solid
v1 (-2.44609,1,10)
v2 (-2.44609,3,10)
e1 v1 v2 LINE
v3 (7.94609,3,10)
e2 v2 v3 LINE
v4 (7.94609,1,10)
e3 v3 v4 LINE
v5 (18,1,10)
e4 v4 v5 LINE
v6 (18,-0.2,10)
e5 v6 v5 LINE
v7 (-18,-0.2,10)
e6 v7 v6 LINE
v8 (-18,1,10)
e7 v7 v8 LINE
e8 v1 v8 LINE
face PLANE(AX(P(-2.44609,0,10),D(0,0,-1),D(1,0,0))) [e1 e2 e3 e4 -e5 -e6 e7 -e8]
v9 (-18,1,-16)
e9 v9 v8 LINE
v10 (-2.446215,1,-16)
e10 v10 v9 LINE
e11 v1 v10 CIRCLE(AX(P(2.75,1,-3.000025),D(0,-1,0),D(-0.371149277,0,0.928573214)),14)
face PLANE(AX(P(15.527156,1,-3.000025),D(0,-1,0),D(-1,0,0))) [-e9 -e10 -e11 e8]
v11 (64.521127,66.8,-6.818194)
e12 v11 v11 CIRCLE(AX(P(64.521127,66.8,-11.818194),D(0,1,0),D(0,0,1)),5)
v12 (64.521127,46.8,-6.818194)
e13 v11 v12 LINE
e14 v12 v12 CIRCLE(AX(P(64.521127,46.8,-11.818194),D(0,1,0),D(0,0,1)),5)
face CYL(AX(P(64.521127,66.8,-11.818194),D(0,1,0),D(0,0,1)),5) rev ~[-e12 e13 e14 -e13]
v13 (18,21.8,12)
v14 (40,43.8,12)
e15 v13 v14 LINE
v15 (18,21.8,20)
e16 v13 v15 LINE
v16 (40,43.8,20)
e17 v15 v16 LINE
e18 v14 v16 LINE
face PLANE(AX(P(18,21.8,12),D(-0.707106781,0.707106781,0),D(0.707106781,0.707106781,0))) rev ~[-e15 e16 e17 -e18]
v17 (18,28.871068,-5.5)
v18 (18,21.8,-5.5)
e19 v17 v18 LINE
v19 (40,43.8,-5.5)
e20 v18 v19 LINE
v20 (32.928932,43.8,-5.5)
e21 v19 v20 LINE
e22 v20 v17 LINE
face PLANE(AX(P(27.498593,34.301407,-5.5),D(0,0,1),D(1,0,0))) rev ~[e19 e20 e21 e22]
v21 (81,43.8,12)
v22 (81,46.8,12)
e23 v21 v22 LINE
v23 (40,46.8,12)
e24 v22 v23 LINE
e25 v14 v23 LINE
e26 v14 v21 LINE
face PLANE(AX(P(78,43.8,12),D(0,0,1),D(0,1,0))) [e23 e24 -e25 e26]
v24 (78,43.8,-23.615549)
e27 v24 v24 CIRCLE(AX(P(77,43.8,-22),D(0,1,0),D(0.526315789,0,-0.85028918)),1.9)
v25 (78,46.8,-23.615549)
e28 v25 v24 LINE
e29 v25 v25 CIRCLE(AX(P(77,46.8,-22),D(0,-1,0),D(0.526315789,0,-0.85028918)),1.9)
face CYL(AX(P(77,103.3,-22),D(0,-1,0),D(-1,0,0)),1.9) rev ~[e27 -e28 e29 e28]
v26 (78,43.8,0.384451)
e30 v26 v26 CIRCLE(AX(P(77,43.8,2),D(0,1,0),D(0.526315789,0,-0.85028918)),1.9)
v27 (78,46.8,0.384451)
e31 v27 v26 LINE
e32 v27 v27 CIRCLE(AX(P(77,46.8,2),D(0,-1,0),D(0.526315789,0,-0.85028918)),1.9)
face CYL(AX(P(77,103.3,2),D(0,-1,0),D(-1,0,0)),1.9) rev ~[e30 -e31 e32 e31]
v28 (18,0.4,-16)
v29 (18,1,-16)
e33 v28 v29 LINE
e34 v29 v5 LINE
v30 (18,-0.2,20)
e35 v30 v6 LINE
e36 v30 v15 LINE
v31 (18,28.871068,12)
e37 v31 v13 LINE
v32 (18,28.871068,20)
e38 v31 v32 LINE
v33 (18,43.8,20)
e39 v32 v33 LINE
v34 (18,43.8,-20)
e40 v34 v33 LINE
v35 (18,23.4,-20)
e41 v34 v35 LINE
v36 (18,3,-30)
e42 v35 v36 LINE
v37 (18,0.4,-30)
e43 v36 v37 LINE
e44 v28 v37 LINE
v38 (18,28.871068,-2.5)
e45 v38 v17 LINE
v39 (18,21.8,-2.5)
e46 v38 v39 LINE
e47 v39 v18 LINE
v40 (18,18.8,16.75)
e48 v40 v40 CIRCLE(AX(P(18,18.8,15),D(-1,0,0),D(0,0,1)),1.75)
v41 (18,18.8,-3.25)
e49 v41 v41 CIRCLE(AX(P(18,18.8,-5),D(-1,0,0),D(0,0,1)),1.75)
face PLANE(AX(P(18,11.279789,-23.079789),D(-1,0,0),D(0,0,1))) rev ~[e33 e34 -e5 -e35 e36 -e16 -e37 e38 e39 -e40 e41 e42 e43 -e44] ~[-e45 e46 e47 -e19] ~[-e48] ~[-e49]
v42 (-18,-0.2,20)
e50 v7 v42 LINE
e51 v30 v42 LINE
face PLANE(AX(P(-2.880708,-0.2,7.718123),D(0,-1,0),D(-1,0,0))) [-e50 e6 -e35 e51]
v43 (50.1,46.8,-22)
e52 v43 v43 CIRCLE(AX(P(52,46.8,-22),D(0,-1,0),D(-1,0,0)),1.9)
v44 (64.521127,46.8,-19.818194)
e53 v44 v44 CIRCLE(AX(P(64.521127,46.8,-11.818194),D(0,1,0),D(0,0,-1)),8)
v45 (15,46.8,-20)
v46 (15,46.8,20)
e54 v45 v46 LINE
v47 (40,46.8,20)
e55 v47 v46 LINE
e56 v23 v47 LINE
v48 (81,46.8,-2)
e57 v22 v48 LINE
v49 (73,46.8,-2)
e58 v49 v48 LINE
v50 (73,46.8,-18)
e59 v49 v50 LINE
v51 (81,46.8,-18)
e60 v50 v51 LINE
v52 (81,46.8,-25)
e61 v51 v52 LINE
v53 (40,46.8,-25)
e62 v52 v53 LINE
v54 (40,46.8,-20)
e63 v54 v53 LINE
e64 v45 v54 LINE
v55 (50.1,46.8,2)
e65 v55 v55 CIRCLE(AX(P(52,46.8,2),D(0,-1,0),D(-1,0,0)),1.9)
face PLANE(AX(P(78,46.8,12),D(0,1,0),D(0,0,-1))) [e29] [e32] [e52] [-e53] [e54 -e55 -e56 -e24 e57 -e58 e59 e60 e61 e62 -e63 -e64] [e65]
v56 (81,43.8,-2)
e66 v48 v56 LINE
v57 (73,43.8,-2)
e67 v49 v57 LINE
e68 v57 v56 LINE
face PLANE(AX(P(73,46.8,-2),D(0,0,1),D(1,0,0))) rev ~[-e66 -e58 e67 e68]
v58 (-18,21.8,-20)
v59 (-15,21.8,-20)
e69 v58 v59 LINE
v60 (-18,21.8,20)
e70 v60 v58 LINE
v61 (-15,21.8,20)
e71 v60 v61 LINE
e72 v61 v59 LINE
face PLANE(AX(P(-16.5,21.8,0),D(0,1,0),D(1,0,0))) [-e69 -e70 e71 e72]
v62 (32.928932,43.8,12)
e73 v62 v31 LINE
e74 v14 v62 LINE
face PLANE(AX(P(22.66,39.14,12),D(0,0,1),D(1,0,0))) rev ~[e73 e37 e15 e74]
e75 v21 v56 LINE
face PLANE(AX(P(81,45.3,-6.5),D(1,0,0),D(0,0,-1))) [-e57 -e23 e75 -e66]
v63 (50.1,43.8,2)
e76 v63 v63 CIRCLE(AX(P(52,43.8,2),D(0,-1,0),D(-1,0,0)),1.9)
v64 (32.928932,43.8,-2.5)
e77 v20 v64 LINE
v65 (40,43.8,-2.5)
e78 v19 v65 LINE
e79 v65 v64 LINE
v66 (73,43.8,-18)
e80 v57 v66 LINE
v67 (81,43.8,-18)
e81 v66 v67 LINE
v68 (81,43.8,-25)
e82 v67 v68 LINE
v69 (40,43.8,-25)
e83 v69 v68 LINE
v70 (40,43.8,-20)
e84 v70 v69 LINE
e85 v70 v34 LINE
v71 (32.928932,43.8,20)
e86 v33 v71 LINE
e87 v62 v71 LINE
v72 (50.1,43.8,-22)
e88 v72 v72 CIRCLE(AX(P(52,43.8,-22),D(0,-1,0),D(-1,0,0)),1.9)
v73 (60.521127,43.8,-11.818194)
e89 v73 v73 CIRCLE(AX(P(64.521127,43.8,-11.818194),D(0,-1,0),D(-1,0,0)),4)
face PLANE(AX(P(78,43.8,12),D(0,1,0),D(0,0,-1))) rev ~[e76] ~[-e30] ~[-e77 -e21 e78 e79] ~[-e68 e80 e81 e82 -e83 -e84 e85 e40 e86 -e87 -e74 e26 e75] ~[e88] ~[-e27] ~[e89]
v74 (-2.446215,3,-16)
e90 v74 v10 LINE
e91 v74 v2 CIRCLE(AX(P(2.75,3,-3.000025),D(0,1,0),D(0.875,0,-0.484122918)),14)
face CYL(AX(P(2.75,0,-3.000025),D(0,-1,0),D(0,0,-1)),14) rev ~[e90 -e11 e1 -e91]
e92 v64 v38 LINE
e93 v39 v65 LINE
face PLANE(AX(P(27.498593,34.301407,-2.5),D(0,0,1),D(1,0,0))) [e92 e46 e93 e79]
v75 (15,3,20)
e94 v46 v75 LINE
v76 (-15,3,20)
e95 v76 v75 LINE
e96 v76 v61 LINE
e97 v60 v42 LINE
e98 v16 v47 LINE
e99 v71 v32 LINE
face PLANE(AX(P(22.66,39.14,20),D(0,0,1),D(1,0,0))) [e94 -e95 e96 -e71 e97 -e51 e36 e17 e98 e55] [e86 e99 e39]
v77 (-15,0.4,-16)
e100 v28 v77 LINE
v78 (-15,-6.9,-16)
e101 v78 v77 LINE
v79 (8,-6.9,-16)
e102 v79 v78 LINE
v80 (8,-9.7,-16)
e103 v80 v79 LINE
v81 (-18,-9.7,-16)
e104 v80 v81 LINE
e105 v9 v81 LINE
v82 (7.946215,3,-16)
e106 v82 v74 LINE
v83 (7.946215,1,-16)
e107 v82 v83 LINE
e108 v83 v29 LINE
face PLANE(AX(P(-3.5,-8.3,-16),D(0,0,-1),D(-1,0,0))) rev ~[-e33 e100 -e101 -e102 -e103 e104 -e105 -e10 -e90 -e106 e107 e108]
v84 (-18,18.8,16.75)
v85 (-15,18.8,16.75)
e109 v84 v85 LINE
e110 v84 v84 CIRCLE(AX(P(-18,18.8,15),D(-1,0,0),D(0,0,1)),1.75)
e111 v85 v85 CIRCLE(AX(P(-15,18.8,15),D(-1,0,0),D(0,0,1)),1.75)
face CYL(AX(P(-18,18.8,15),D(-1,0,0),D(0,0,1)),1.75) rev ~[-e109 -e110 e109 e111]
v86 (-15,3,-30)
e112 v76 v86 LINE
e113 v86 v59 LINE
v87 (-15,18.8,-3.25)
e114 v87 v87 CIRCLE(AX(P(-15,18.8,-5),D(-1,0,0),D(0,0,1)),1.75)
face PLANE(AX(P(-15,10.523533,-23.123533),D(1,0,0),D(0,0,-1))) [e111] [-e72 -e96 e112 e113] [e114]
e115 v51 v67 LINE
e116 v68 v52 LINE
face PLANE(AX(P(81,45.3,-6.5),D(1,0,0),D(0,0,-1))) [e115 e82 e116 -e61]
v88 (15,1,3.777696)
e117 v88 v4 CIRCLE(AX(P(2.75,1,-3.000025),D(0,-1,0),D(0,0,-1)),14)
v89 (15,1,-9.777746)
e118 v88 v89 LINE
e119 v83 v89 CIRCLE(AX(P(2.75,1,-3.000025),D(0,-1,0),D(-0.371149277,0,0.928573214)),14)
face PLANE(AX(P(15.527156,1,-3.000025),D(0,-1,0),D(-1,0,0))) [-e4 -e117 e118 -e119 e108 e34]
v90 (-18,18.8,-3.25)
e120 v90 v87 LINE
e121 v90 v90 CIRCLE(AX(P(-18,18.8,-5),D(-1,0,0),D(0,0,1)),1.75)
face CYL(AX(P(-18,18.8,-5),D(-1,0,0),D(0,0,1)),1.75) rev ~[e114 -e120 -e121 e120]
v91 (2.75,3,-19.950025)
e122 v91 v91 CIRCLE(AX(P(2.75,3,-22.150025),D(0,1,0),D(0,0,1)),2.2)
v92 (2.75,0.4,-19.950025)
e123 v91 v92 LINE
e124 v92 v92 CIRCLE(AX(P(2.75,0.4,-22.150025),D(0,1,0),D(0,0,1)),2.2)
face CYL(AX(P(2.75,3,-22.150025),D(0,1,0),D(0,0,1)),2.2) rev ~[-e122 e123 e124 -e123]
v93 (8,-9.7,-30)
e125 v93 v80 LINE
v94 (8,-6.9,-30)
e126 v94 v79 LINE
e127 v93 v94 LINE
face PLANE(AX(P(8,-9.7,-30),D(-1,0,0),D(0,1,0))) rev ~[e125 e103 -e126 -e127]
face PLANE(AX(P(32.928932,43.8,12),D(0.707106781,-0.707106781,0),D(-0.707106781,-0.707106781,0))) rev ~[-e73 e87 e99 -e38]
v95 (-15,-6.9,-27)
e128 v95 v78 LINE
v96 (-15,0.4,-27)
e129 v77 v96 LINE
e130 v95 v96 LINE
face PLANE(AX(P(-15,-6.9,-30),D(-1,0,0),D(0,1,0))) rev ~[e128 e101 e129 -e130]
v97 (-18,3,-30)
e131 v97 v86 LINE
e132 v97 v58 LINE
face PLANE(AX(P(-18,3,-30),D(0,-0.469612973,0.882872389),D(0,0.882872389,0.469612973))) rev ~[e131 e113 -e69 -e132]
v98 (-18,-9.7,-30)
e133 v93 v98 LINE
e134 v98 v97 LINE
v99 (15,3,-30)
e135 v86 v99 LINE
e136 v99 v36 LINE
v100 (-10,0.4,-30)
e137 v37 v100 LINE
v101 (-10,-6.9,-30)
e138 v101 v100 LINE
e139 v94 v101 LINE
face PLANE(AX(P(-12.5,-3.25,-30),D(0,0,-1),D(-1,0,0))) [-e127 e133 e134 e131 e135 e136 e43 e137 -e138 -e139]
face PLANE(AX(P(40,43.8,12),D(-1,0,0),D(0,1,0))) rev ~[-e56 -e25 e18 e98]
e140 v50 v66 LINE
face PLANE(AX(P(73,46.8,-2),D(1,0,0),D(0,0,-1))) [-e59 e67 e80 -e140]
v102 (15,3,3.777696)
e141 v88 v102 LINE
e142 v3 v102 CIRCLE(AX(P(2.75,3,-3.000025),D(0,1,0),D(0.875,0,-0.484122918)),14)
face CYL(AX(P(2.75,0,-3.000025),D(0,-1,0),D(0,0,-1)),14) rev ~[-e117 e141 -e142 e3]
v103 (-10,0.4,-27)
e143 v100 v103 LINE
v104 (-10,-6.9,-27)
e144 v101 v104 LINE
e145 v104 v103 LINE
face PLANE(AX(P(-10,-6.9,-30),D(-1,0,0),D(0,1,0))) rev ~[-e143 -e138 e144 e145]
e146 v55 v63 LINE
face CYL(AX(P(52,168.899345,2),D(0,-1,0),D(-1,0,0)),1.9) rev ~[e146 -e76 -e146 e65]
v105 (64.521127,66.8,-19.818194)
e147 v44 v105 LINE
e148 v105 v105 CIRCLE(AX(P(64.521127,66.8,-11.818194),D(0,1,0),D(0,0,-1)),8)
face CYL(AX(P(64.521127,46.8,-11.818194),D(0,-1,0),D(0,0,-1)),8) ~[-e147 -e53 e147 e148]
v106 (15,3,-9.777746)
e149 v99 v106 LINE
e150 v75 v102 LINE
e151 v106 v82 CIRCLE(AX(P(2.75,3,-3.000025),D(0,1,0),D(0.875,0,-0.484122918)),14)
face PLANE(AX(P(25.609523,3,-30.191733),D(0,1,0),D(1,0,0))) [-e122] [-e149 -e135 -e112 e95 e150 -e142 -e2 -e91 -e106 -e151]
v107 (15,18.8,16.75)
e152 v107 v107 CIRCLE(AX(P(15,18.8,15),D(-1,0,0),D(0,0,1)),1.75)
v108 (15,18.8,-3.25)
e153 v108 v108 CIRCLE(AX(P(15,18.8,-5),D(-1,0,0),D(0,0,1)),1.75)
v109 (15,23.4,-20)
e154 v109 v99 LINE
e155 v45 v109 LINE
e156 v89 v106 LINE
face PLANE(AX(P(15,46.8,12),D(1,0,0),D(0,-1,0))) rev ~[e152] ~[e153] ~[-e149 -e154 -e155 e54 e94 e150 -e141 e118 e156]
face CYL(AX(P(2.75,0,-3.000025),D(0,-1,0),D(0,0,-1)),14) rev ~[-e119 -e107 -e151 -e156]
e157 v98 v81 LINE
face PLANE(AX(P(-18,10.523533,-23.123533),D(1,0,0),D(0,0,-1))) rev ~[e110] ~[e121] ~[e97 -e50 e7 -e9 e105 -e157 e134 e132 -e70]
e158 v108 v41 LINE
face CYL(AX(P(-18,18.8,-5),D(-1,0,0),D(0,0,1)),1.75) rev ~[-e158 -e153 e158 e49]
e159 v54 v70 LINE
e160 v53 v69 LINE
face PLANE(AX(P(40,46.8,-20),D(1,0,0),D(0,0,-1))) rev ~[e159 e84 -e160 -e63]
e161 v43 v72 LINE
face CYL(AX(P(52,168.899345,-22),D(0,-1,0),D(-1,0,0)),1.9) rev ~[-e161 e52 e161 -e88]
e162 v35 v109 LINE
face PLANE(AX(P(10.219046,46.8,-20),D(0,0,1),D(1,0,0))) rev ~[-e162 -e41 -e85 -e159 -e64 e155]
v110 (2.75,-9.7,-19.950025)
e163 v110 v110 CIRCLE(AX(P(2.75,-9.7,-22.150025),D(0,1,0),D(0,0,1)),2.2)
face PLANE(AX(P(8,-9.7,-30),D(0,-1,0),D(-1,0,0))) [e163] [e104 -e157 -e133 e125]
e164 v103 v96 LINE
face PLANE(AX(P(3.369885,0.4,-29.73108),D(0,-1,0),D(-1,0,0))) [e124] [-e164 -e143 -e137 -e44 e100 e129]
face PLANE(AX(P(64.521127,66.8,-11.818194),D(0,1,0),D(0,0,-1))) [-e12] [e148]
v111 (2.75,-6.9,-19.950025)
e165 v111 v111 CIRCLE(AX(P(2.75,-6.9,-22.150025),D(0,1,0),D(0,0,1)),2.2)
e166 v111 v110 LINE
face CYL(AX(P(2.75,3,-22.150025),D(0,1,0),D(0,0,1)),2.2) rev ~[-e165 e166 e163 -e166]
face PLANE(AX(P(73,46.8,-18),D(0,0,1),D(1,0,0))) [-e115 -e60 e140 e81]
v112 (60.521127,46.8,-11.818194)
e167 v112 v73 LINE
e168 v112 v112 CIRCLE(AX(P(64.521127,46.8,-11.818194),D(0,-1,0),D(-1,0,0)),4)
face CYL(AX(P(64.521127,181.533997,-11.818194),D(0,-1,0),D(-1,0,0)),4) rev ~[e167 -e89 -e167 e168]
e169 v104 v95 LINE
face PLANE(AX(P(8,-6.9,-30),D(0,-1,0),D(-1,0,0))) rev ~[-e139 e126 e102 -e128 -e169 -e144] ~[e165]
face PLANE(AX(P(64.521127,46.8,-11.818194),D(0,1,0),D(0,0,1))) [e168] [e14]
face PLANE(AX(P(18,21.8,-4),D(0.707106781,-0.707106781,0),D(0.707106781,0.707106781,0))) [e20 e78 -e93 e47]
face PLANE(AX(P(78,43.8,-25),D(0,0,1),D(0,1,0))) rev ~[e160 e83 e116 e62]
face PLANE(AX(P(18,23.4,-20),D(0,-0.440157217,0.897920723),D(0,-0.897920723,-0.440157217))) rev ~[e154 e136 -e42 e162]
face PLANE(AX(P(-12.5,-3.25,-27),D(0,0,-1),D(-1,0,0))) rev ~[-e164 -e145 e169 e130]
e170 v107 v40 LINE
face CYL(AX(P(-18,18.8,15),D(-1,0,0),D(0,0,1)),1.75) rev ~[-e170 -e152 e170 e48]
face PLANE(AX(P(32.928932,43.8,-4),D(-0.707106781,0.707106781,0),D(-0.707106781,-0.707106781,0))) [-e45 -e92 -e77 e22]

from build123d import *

# Parameters (mm, degrees)
SKETCH_1_W            = 36
SKETCH_1_H            = 40
EXTRUDE_1_DEPTH       = 3
SKETCH_2_W            = 3
SKETCH_2_H            = 40
EXTRUDE_2_DEPTH       = 18.8
SKETCH_3_R            = 14
CUT_EXTRUDE_1_DEPTH   = 9
SKETCH_4_W            = 36
SKETCH_4_H            = 3
EXTRUDE_3_DEPTH       = 10
SKETCH_6_R            = 2.7
CUT_EXTRUDE_3_DEPTH   = 10
SKETCH_7_R            = 1.75
CUT_EXTRUDE_4_DEPTH   = 52.68404009
SKETCH_9_W            = 25
SKETCH_9_H            = 3
SKETCH_9_W_2          = 3
SKETCH_9_H_2          = 9.3
EXTRUDE_4_DEPTH       = 20
CHAMFER_1_SIZE        = 5
CUT_EXTRUDE_START     = -30
SKETCH_10_R           = 2.7
CUT_EXTRUDE_5_DEPTH   = 30
SKETCH_11_W           = 40.05397725
SKETCH_11_H           = 18.071111192
CUT_EXTRUDE_6_DEPTH   = 52.68404009
EXTRUDE_START         = 2.5
SKETCH_12_W           = 36
SKETCH_12_H           = 20
SKETCH_12_R           = 2.7
EXTRUDE_5_DEPTH       = 2.5
SKETCH_13_W           = 62.12277329
SKETCH_13_H           = 35.561448302
CUT_EXTRUDE_7_DEPTH   = 1
SKETCH_16_W           = 60
SKETCH_16_H           = 3
SKETCH_16_W_2         = 3
SKETCH_16_H_2         = 25
EXTRUDE_7_DEPTH       = 65
EXTRUDE_START_2       = 8
EXTRUDE_8_DEPTH       = 8
SKETCH_19_W           = 125.229267156
SKETCH_19_H           = 103.922898786
CUT_EXTRUDE_9_DEPTH   = 0.5
SKETCH_20_W           = 154.797288569
SKETCH_20_H           = 90.443359613
CUT_EXTRUDE_10_DEPTH  = 1.8
SKETCH_21_W           = 11.155684717
SKETCH_21_H           = 2.603751016
EXTRUDE_9_DEPTH       = 3
EXTRUDE_10_DEPTH      = 10
EXTRUDE_10_DEPTH_BACK = 4
SKETCH_22_W           = 36
SKETCH_22_H           = 3.2
SKETCH_23_R           = 1.75
CUT_EXTRUDE_12_DEPTH  = 10
SKETCH_26_W           = 12.845915964
SKETCH_26_H           = 7.377373426
EXTRUDE_11_DEPTH      = 3.2
SKETCH_27_W           = 116.42408431
SKETCH_27_H           = 62.505927617
CUT_EXTRUDE_13_DEPTH  = 10
SKETCH_29_W           = 89.791123847
SKETCH_29_H           = 12.28472202
SKETCH_29_W_2         = 107.401489541
SKETCH_29_H_2         = 29.785433334
CUT_EXTRUDE_14_DEPTH  = 25
SKETCH_30_W           = 3
SKETCH_30_H           = 18.8
EXTRUDE_12_DEPTH      = 17
SKETCH_31_W           = 80.768529078
SKETCH_31_H           = 45.765209612
CUT_EXTRUDE_15_DEPTH  = 0.6
SKETCH_32_W           = 23
SKETCH_32_H           = 2.8
SKETCH_32_W_2         = 3
SKETCH_32_H_2         = 9.9
EXTRUDE_13_DEPTH      = 14
SKETCH_34_R           = 2.2
CUT_EXTRUDE_17_DEPTH  = 97.806198149
SKETCH_35_W           = 168.711651586
SKETCH_35_H           = 128.925269833
CUT_EXTRUDE_18_DEPTH  = 7
SKETCH_36_W           = 30.780953922
SKETCH_36_H           = 20.383466973
CUT_EXTRUDE_19_DEPTH  = 43.8
SKETCH_38_W           = 37
SKETCH_38_H           = 5
CUT_EXTRUDE_20_DEPTH  = 10
SKETCH_45_W           = 37
SKETCH_45_H           = 3
EXTRUDE_14_DEPTH      = 3
HOLE_WIZARD_1_D       = 3.8
SKETCH_51_W           = 37
SKETCH_51_H           = 8
CUT_EXTRUDE_21_DEPTH  = 10
EXTRUDE_15_DEPTH      = 3
EXTRUDE_16_DEPTH      = 3
EXTRUDE_17_DEPTH      = 8
EXTRUDE_18_DEPTH      = 1.5
SKETCH_58_W           = 5
SKETCH_58_H           = 7.3
EXTRUDE_19_DEPTH      = 3
SKETCH_59_W           = 38
SKETCH_59_H           = 5
EXTRUDE_20_DEPTH      = 3
HOLE_WIZARD_2_D       = 3.8
SKETCH_62_W           = 37
SKETCH_62_H           = 3
EXTRUDE_21_DEPTH      = 3
HOLE_WIZARD_3_D       = 3.8
HOLE_WIZARD_3_DEPTH   = 56.5
SKETCH_65_W           = 8
SKETCH_65_H           = 16
CUT_EXTRUDE_22_DEPTH  = 10
SKETCH_73_R           = 8
EXTRUDE_22_DEPTH      = 20
SKETCH_74_R           = 5
CUT_EXTRUDE_23_DEPTH  = 20
HOLE_WIZARD_4_D       = 8


with BuildPart() as part:
    # 草图1 → 凸台-拉伸1 (new body)
    with BuildSketch(Plane(origin=(0, 0, 0), x_dir=(1, 0, 0), z_dir=(0, 1, 0))):
        Rectangle(SKETCH_1_W, SKETCH_1_H)
    extrude(amount=EXTRUDE_1_DEPTH)

    # 草图2 → 凸台-拉伸2 (add)
    with BuildSketch(Plane(origin=(0, 3, 0), x_dir=(1, 0, 0), z_dir=(0, 1, 0))):
        with Locations((-16.5, 0)):
            Rectangle(SKETCH_2_W, SKETCH_2_H)
        with Locations((16.5, 0)):
            Rectangle(SKETCH_2_W, SKETCH_2_H)
    extrude(amount=EXTRUDE_2_DEPTH)

    # 草图3 → 切除-拉伸1 (cut)
    with BuildSketch(Plane(origin=(0, 0, 0), x_dir=(-1, 0, 0), z_dir=(0, -1, 0))):
        with Locations(Location((-2.75, 3.000025, 0), (0, 0, 90))):
            Circle(SKETCH_3_R)
    extrude(amount=-CUT_EXTRUDE_1_DEPTH, mode=Mode.SUBTRACT)

    # 草图4 → 凸台-拉伸3 (add)
    with BuildSketch(Plane.XY.offset(20)):
        with Locations((0, 1.5)):
            Rectangle(SKETCH_4_W, SKETCH_4_H)
    extrude(amount=EXTRUDE_3_DEPTH)

    # 草图6 → 切除-拉伸3 (cut)
    with BuildSketch(Plane(origin=(0, 0, 0), x_dir=(-1, 0, 0), z_dir=(0, -1, 0))):
        with Locations(Location((-2.75, -16.149975, 0), (0, 0, 90))):
            Circle(SKETCH_6_R)
    extrude(amount=-CUT_EXTRUDE_3_DEPTH, mode=Mode.SUBTRACT)

    # 草图7 → 切除-拉伸4 (cut, through all)
    with BuildSketch(Plane.ZY.offset(18)):
        with Locations((15, 18.8)):
            Circle(SKETCH_7_R)
        with Locations((-5, 18.8)):
            Circle(SKETCH_7_R)
    extrude(amount=-CUT_EXTRUDE_4_DEPTH, mode=Mode.SUBTRACT)

    # 草图9 → 凸台-拉伸4 (add)
    with BuildSketch(Plane.XY.offset(30)):
        with Locations((-2.5, -7.8)):
            Rectangle(SKETCH_9_W, SKETCH_9_H)
        with Locations((-16.5, -4.65)):
            Rectangle(SKETCH_9_W_2, SKETCH_9_H_2)
    extrude(amount=-EXTRUDE_4_DEPTH)

    # 倒角1
    chamfer_1_edges = [part.edges().sort_by_distance(p)[0] for p in [
        (10, -7.8, 30),
    ]]
    chamfer(chamfer_1_edges, length=CHAMFER_1_SIZE)

    # 草图10 → 切除-拉伸5 (cut)
    with BuildSketch(Plane(origin=(0, 0, 0), x_dir=(1, 0, 0), z_dir=(0, 1, 0)).offset(CUT_EXTRUDE_START)):
        with Locations(Location((2.75, -16.149975, 0), (0, 0, 90))):
            Circle(SKETCH_10_R)
    extrude(amount=CUT_EXTRUDE_5_DEPTH, mode=Mode.SUBTRACT)

    # 草图11 → 切除-拉伸6 (cut, through all)
    with BuildSketch(Plane.ZY.offset(18)):
        with Locations((20.026988625, -9.035555596)):
            Rectangle(SKETCH_11_W, SKETCH_11_H)
    extrude(amount=-CUT_EXTRUDE_6_DEPTH, mode=Mode.SUBTRACT)

    # 草图12 → 凸台-拉伸5 (add)
    with BuildSketch(Plane(origin=(0, 0, 0), x_dir=(-1, 0, 0), z_dir=(0, -1, 0)).offset(EXTRUDE_START)):
        with Locations((0, -20)):
            Rectangle(SKETCH_12_W, SKETCH_12_H)
        with Locations(Location((-2.75, -16.149975, 0), (0, 0, 90))):
            Circle(SKETCH_12_R, mode=Mode.SUBTRACT)
    extrude(amount=-EXTRUDE_5_DEPTH)

    # 草图13 → 切除-拉伸7 (cut)
    with BuildSketch(Plane(origin=(0, 0, 0), x_dir=(-1, 0, 0), z_dir=(0, -1, 0))):
        with Locations((0.086945799, 7.780724151)):
            Rectangle(SKETCH_13_W, SKETCH_13_H)
    extrude(amount=-CUT_EXTRUDE_7_DEPTH, mode=Mode.SUBTRACT)

    # 草图16 → 凸台-拉伸7 (add)
    with BuildSketch(Plane.XY.offset(20)):
        with Locations((48, 45.3)):
            Rectangle(SKETCH_16_W, SKETCH_16_H)
        with Locations((16.5, 34.3)):
            Rectangle(SKETCH_16_W_2, SKETCH_16_H_2)
    extrude(amount=-EXTRUDE_7_DEPTH)

    # 草图17 → 凸台-拉伸8 (add)
    with BuildSketch(Plane(origin=(0, 9, 0), x_dir=(-1, 0, 0), z_dir=(0, -1, 0)).offset(EXTRUDE_START_2)):
        with BuildLine():
            Line((-15, -3.777695856), (-15, 9.777745856))
            ThreePointArc((-15, 9.777745856), (-16.75, 3.000025), (-15, -3.777695856))
        make_face()
    extrude(amount=-EXTRUDE_8_DEPTH)

    # 草图19 → 切除-拉伸9 (cut)
    with BuildSketch(Plane(origin=(0, -2.5, 0), x_dir=(-1, 0, 0), z_dir=(0, -1, 0))):
        with Locations((5.272239112, -16.1971882)):
            Rectangle(SKETCH_19_W, SKETCH_19_H)
    extrude(amount=-CUT_EXTRUDE_9_DEPTH, mode=Mode.SUBTRACT)

    # 草图20 → 切除-拉伸10 (cut)
    with BuildSketch(Plane(origin=(0, -2, 0), x_dir=(-1, 0, 0), z_dir=(0, -1, 0))):
        with Locations((2.880707968, -7.718123237)):
            Rectangle(SKETCH_20_W, SKETCH_20_H)
    extrude(amount=-CUT_EXTRUDE_10_DEPTH, mode=Mode.SUBTRACT)

    # 草图21 → 凸台-拉伸9 (add)
    with BuildSketch(Plane(origin=(0, 0, 0), x_dir=(1, 0, 0), z_dir=(0, 1, 0))):
        with Locations((3.131752483, -11.301875508)):
            Rectangle(SKETCH_21_W, SKETCH_21_H)
    extrude(amount=EXTRUDE_9_DEPTH)

    # 草图22 → 凸台-拉伸10 (add, two sides: drawn at the far end of the back side and taken through both)
    with BuildSketch(Plane(origin=(0, 0, -20), x_dir=(-1, 0, 0), z_dir=(0, 0, -1)).offset(-EXTRUDE_10_DEPTH_BACK)):
        with Locations((0, 1.4)):
            Rectangle(SKETCH_22_W, SKETCH_22_H)
    extrude(amount=EXTRUDE_10_DEPTH + EXTRUDE_10_DEPTH_BACK)

    # 草图23 → 切除-拉伸12 (cut)
    with BuildSketch(Plane(origin=(0, 9, 0), x_dir=(-1, 0, 0), z_dir=(0, -1, 0))):
        with Locations(Location((-2.75, 22.150025, 0), (0, 0, 270))):
            Circle(SKETCH_23_R)
    extrude(amount=CUT_EXTRUDE_12_DEPTH, mode=Mode.SUBTRACT)

    # 草图26 → 凸台-拉伸11 (add, through all)
    with BuildSketch(Plane(origin=(0, 3, 0), x_dir=(1, 0, 0), z_dir=(0, 1, 0))):
        with Locations((3.420651678, -16.929062366)):
            Rectangle(SKETCH_26_W, SKETCH_26_H)
    extrude(amount=-EXTRUDE_11_DEPTH)

    # 草图27 → 切除-拉伸13 (cut)
    with BuildSketch(Plane.XY.offset(30)):
        with Locations((4.783062287, -2.648783639)):
            Rectangle(SKETCH_27_W, SKETCH_27_H)
    extrude(amount=-CUT_EXTRUDE_13_DEPTH, mode=Mode.SUBTRACT)

    # 草图29 → 切除-拉伸14 (cut)
    with BuildSketch(Plane(origin=(0, 46.8, 0), x_dir=(1, 0, 0), z_dir=(0, 1, 0))):
        with Locations((43.319325488, 43.14236101)):
            Rectangle(SKETCH_29_W, SKETCH_29_H)
        with Locations((56.472746777, -26.892716667)):
            Rectangle(SKETCH_29_W_2, SKETCH_29_H_2)
    extrude(amount=-CUT_EXTRUDE_14_DEPTH, mode=Mode.SUBTRACT)

    # 草图30 → 凸台-拉伸12 (add)
    with BuildSketch(Plane(origin=(0, 0, -20), x_dir=(-1, 0, 0), z_dir=(0, 0, -1))):
        with Locations((-16.5, 12.4)):
            Rectangle(SKETCH_30_W, SKETCH_30_H)
    extrude(amount=EXTRUDE_12_DEPTH)

    # 草图31 → 切除-拉伸15 (cut)
    with BuildSketch(Plane(origin=(0, -0.2, 0), x_dir=(-1, 0, 0), z_dir=(0, -1, 0))):
        with Locations((-3.369884793, 29.731080354)):
            Rectangle(SKETCH_31_W, SKETCH_31_H)
    extrude(amount=-CUT_EXTRUDE_15_DEPTH, mode=Mode.SUBTRACT)

    # 草图32 → 凸台-拉伸13 (add)
    with BuildSketch(Plane(origin=(0, 0, -30), x_dir=(-1, 0, 0), z_dir=(0, 0, -1))):
        with Locations((3.5, -8.3)):
            Rectangle(SKETCH_32_W, SKETCH_32_H)
        with Locations((16.5, -1.95)):
            Rectangle(SKETCH_32_W_2, SKETCH_32_H_2)
        with Locations((16.5, -8.3)):
            Rectangle(SKETCH_32_W_2, SKETCH_32_H)
    extrude(amount=-EXTRUDE_13_DEPTH)

    # 草图34 → 切除-拉伸17 (cut, through all)
    with BuildSketch(Plane(origin=(0, 3, 0), x_dir=(1, 0, 0), z_dir=(0, 1, 0))):
        with Locations(Location((2.75, 22.150025, 0), (0, 0, 270))):
            Circle(SKETCH_34_R)
    extrude(amount=-CUT_EXTRUDE_17_DEPTH, mode=Mode.SUBTRACT)

    # 草图35 → 切除-拉伸18 (cut)
    with BuildSketch(Plane(origin=(0, 0, -37), x_dir=(-1, 0, 0), z_dir=(0, 0, -1))):
        with Locations((-14.403539842, 2.608943066)):
            Rectangle(SKETCH_35_W, SKETCH_35_H)
    extrude(amount=-CUT_EXTRUDE_18_DEPTH, mode=Mode.SUBTRACT)

    # 草图36 → 切除-拉伸19 (cut)
    with BuildSketch(Plane(origin=(0, 46.8, 0), x_dir=(1, 0, 0), z_dir=(0, 1, 0))):
        with Locations((25.609523039, 30.191733487)):
            Rectangle(SKETCH_36_W, SKETCH_36_H)
    extrude(amount=-CUT_EXTRUDE_19_DEPTH, mode=Mode.SUBTRACT)

    # 草图38 → 切除-拉伸20 (cut)
    with BuildSketch(Plane(origin=(0, 46.8, 0), x_dir=(1, 0, 0), z_dir=(0, 1, 0))):
        with Locations((59.5, 27.5)):
            Rectangle(SKETCH_38_W, SKETCH_38_H)
    extrude(amount=-CUT_EXTRUDE_20_DEPTH, mode=Mode.SUBTRACT)

    # 草图45 → 凸台-拉伸14 (add)
    with BuildSketch(Plane(origin=(0, 0, -25), x_dir=(-1, 0, 0), z_dir=(0, 0, -1))):
        with Locations((-59.5, 45.3)):
            Rectangle(SKETCH_45_W, SKETCH_45_H)
    extrude(amount=EXTRUDE_14_DEPTH)

    # 孔1 (through all)
    with Locations(Plane(origin=(0, 46.8, 0), x_dir=(1, 0, 0), z_dir=(0, 1, 0))):
        with Locations((52, 22), (52, -2), (77, 22), (77, -2)):
            Hole(HOLE_WIZARD_1_D / 2)

    # 草图51 → 切除-拉伸21 (cut)
    with BuildSketch(Plane(origin=(0, 46.8, 0), x_dir=(1, 0, 0), z_dir=(0, 1, 0))):
        with Locations((59.5, 24)):
            Rectangle(SKETCH_51_W, SKETCH_51_H)
    extrude(amount=-CUT_EXTRUDE_21_DEPTH, mode=Mode.SUBTRACT)

    # 草图52 → 凸台-拉伸15 (add)
    with BuildSketch(Plane.ZY.offset(18)):
        Polygon((-30, 3), (-20, 21.8), (-20, 3), align=None)
    extrude(amount=-EXTRUDE_15_DEPTH)

    # 草图54 → 凸台-拉伸16 (add)
    with BuildSketch(Plane(origin=(18, 0, 0), x_dir=(0, 0, -1), z_dir=(1, 0, 0))):
        Polygon((30, 3), (20, 3), (20, 23.4), align=None)
    extrude(amount=-EXTRUDE_16_DEPTH)

    # 草图55 → 凸台-拉伸17 (add)
    with BuildSketch(Plane.XY.offset(12)):
        Polygon((15, 21.8), (18, 21.8), (18, 28.871067812), (18, 43.8), (32.928932188, 43.8), (40, 43.8), (40, 46.8), (15, 46.8), align=None)
        Polygon((18, 28.871067812), (18, 21.8), (40, 43.8), (32.928932188, 43.8), align=None)
    extrude(amount=EXTRUDE_17_DEPTH)

    # 草图56 → 凸台-拉伸18 (add, symmetric)
    with BuildSketch(Plane.XY.offset(-4)):
        Polygon((18, 21.8), (40, 43.8), (32.928932188, 43.8), (18, 28.871067812), align=None)
    extrude(amount=EXTRUDE_18_DEPTH, both=True)

    # 草图58 → 凸台-拉伸19 (add)
    with BuildSketch(Plane(origin=(0, 0, -30), x_dir=(-1, 0, 0), z_dir=(0, 0, -1))):
        with Locations((12.5, -3.25)):
            Rectangle(SKETCH_58_W, SKETCH_58_H)
    extrude(amount=-EXTRUDE_19_DEPTH)

    # 草图59 → 凸台-拉伸20 (add)
    with BuildSketch(Plane(origin=(0, 46.8, 0), x_dir=(1, 0, 0), z_dir=(0, 1, 0))):
        with Locations((59, 22.5)):
            Rectangle(SKETCH_59_W, SKETCH_59_H)
    extrude(amount=-EXTRUDE_20_DEPTH)

    # 孔2 (through all)
    with Locations(Plane(origin=(0, 46.8, 0), x_dir=(1, 0, 0), z_dir=(0, 1, 0))):
        with Locations((52, 22), (77, 22)):
            Hole(HOLE_WIZARD_2_D / 2)

    # 草图62 → 凸台-拉伸21 (add)
    with BuildSketch(Plane(origin=(78, 0, 0), x_dir=(0, 0, -1), z_dir=(1, 0, 0))):
        with Locations((6.5, 45.3)):
            Rectangle(SKETCH_62_W, SKETCH_62_H)
    extrude(amount=EXTRUDE_21_DEPTH)

    # 孔3
    with Locations(Plane(origin=(0, 46.8, 0), x_dir=(1, 0, 0), z_dir=(0, 1, 0))):
        with Locations((77, -2), (77, 22)):
            Hole(HOLE_WIZARD_3_D / 2, depth=HOLE_WIZARD_3_DEPTH)

    # 草图65 → 切除-拉伸22 (cut)
    with BuildSketch(Plane(origin=(0, 46.8, 0), x_dir=(1, 0, 0), z_dir=(0, 1, 0))):
        with Locations((77, 10)):
            Rectangle(SKETCH_65_W, SKETCH_65_H)
    extrude(amount=-CUT_EXTRUDE_22_DEPTH, mode=Mode.SUBTRACT)

    # 草图73 → 凸台-拉伸22 (add)
    with BuildSketch(Plane(origin=(0, 46.8, 0), x_dir=(1, 0, 0), z_dir=(0, 1, 0))):
        with Locations(Location((64.521127225, 11.818194149, 0), (0, 0, 90))):
            Circle(SKETCH_73_R)
    extrude(amount=EXTRUDE_22_DEPTH)

    # 草图74 → 切除-拉伸23 (cut)
    with BuildSketch(Plane(origin=(0, 66.8, 0), x_dir=(1, 0, 0), z_dir=(0, 1, 0))):
        with Locations(Location((64.521127225, 11.818194149, 0), (0, 0, 270))):
            Circle(SKETCH_74_R)
    extrude(amount=-CUT_EXTRUDE_23_DEPTH, mode=Mode.SUBTRACT)

    # 孔4 (through all)
    with Locations(Plane(origin=(0, 46.8, 0), x_dir=(1, 0, 0), z_dir=(0, 1, 0))):
        with Locations((64.521127225, 11.818194149)):
            Hole(HOLE_WIZARD_4_D / 2)


solid = part.part
